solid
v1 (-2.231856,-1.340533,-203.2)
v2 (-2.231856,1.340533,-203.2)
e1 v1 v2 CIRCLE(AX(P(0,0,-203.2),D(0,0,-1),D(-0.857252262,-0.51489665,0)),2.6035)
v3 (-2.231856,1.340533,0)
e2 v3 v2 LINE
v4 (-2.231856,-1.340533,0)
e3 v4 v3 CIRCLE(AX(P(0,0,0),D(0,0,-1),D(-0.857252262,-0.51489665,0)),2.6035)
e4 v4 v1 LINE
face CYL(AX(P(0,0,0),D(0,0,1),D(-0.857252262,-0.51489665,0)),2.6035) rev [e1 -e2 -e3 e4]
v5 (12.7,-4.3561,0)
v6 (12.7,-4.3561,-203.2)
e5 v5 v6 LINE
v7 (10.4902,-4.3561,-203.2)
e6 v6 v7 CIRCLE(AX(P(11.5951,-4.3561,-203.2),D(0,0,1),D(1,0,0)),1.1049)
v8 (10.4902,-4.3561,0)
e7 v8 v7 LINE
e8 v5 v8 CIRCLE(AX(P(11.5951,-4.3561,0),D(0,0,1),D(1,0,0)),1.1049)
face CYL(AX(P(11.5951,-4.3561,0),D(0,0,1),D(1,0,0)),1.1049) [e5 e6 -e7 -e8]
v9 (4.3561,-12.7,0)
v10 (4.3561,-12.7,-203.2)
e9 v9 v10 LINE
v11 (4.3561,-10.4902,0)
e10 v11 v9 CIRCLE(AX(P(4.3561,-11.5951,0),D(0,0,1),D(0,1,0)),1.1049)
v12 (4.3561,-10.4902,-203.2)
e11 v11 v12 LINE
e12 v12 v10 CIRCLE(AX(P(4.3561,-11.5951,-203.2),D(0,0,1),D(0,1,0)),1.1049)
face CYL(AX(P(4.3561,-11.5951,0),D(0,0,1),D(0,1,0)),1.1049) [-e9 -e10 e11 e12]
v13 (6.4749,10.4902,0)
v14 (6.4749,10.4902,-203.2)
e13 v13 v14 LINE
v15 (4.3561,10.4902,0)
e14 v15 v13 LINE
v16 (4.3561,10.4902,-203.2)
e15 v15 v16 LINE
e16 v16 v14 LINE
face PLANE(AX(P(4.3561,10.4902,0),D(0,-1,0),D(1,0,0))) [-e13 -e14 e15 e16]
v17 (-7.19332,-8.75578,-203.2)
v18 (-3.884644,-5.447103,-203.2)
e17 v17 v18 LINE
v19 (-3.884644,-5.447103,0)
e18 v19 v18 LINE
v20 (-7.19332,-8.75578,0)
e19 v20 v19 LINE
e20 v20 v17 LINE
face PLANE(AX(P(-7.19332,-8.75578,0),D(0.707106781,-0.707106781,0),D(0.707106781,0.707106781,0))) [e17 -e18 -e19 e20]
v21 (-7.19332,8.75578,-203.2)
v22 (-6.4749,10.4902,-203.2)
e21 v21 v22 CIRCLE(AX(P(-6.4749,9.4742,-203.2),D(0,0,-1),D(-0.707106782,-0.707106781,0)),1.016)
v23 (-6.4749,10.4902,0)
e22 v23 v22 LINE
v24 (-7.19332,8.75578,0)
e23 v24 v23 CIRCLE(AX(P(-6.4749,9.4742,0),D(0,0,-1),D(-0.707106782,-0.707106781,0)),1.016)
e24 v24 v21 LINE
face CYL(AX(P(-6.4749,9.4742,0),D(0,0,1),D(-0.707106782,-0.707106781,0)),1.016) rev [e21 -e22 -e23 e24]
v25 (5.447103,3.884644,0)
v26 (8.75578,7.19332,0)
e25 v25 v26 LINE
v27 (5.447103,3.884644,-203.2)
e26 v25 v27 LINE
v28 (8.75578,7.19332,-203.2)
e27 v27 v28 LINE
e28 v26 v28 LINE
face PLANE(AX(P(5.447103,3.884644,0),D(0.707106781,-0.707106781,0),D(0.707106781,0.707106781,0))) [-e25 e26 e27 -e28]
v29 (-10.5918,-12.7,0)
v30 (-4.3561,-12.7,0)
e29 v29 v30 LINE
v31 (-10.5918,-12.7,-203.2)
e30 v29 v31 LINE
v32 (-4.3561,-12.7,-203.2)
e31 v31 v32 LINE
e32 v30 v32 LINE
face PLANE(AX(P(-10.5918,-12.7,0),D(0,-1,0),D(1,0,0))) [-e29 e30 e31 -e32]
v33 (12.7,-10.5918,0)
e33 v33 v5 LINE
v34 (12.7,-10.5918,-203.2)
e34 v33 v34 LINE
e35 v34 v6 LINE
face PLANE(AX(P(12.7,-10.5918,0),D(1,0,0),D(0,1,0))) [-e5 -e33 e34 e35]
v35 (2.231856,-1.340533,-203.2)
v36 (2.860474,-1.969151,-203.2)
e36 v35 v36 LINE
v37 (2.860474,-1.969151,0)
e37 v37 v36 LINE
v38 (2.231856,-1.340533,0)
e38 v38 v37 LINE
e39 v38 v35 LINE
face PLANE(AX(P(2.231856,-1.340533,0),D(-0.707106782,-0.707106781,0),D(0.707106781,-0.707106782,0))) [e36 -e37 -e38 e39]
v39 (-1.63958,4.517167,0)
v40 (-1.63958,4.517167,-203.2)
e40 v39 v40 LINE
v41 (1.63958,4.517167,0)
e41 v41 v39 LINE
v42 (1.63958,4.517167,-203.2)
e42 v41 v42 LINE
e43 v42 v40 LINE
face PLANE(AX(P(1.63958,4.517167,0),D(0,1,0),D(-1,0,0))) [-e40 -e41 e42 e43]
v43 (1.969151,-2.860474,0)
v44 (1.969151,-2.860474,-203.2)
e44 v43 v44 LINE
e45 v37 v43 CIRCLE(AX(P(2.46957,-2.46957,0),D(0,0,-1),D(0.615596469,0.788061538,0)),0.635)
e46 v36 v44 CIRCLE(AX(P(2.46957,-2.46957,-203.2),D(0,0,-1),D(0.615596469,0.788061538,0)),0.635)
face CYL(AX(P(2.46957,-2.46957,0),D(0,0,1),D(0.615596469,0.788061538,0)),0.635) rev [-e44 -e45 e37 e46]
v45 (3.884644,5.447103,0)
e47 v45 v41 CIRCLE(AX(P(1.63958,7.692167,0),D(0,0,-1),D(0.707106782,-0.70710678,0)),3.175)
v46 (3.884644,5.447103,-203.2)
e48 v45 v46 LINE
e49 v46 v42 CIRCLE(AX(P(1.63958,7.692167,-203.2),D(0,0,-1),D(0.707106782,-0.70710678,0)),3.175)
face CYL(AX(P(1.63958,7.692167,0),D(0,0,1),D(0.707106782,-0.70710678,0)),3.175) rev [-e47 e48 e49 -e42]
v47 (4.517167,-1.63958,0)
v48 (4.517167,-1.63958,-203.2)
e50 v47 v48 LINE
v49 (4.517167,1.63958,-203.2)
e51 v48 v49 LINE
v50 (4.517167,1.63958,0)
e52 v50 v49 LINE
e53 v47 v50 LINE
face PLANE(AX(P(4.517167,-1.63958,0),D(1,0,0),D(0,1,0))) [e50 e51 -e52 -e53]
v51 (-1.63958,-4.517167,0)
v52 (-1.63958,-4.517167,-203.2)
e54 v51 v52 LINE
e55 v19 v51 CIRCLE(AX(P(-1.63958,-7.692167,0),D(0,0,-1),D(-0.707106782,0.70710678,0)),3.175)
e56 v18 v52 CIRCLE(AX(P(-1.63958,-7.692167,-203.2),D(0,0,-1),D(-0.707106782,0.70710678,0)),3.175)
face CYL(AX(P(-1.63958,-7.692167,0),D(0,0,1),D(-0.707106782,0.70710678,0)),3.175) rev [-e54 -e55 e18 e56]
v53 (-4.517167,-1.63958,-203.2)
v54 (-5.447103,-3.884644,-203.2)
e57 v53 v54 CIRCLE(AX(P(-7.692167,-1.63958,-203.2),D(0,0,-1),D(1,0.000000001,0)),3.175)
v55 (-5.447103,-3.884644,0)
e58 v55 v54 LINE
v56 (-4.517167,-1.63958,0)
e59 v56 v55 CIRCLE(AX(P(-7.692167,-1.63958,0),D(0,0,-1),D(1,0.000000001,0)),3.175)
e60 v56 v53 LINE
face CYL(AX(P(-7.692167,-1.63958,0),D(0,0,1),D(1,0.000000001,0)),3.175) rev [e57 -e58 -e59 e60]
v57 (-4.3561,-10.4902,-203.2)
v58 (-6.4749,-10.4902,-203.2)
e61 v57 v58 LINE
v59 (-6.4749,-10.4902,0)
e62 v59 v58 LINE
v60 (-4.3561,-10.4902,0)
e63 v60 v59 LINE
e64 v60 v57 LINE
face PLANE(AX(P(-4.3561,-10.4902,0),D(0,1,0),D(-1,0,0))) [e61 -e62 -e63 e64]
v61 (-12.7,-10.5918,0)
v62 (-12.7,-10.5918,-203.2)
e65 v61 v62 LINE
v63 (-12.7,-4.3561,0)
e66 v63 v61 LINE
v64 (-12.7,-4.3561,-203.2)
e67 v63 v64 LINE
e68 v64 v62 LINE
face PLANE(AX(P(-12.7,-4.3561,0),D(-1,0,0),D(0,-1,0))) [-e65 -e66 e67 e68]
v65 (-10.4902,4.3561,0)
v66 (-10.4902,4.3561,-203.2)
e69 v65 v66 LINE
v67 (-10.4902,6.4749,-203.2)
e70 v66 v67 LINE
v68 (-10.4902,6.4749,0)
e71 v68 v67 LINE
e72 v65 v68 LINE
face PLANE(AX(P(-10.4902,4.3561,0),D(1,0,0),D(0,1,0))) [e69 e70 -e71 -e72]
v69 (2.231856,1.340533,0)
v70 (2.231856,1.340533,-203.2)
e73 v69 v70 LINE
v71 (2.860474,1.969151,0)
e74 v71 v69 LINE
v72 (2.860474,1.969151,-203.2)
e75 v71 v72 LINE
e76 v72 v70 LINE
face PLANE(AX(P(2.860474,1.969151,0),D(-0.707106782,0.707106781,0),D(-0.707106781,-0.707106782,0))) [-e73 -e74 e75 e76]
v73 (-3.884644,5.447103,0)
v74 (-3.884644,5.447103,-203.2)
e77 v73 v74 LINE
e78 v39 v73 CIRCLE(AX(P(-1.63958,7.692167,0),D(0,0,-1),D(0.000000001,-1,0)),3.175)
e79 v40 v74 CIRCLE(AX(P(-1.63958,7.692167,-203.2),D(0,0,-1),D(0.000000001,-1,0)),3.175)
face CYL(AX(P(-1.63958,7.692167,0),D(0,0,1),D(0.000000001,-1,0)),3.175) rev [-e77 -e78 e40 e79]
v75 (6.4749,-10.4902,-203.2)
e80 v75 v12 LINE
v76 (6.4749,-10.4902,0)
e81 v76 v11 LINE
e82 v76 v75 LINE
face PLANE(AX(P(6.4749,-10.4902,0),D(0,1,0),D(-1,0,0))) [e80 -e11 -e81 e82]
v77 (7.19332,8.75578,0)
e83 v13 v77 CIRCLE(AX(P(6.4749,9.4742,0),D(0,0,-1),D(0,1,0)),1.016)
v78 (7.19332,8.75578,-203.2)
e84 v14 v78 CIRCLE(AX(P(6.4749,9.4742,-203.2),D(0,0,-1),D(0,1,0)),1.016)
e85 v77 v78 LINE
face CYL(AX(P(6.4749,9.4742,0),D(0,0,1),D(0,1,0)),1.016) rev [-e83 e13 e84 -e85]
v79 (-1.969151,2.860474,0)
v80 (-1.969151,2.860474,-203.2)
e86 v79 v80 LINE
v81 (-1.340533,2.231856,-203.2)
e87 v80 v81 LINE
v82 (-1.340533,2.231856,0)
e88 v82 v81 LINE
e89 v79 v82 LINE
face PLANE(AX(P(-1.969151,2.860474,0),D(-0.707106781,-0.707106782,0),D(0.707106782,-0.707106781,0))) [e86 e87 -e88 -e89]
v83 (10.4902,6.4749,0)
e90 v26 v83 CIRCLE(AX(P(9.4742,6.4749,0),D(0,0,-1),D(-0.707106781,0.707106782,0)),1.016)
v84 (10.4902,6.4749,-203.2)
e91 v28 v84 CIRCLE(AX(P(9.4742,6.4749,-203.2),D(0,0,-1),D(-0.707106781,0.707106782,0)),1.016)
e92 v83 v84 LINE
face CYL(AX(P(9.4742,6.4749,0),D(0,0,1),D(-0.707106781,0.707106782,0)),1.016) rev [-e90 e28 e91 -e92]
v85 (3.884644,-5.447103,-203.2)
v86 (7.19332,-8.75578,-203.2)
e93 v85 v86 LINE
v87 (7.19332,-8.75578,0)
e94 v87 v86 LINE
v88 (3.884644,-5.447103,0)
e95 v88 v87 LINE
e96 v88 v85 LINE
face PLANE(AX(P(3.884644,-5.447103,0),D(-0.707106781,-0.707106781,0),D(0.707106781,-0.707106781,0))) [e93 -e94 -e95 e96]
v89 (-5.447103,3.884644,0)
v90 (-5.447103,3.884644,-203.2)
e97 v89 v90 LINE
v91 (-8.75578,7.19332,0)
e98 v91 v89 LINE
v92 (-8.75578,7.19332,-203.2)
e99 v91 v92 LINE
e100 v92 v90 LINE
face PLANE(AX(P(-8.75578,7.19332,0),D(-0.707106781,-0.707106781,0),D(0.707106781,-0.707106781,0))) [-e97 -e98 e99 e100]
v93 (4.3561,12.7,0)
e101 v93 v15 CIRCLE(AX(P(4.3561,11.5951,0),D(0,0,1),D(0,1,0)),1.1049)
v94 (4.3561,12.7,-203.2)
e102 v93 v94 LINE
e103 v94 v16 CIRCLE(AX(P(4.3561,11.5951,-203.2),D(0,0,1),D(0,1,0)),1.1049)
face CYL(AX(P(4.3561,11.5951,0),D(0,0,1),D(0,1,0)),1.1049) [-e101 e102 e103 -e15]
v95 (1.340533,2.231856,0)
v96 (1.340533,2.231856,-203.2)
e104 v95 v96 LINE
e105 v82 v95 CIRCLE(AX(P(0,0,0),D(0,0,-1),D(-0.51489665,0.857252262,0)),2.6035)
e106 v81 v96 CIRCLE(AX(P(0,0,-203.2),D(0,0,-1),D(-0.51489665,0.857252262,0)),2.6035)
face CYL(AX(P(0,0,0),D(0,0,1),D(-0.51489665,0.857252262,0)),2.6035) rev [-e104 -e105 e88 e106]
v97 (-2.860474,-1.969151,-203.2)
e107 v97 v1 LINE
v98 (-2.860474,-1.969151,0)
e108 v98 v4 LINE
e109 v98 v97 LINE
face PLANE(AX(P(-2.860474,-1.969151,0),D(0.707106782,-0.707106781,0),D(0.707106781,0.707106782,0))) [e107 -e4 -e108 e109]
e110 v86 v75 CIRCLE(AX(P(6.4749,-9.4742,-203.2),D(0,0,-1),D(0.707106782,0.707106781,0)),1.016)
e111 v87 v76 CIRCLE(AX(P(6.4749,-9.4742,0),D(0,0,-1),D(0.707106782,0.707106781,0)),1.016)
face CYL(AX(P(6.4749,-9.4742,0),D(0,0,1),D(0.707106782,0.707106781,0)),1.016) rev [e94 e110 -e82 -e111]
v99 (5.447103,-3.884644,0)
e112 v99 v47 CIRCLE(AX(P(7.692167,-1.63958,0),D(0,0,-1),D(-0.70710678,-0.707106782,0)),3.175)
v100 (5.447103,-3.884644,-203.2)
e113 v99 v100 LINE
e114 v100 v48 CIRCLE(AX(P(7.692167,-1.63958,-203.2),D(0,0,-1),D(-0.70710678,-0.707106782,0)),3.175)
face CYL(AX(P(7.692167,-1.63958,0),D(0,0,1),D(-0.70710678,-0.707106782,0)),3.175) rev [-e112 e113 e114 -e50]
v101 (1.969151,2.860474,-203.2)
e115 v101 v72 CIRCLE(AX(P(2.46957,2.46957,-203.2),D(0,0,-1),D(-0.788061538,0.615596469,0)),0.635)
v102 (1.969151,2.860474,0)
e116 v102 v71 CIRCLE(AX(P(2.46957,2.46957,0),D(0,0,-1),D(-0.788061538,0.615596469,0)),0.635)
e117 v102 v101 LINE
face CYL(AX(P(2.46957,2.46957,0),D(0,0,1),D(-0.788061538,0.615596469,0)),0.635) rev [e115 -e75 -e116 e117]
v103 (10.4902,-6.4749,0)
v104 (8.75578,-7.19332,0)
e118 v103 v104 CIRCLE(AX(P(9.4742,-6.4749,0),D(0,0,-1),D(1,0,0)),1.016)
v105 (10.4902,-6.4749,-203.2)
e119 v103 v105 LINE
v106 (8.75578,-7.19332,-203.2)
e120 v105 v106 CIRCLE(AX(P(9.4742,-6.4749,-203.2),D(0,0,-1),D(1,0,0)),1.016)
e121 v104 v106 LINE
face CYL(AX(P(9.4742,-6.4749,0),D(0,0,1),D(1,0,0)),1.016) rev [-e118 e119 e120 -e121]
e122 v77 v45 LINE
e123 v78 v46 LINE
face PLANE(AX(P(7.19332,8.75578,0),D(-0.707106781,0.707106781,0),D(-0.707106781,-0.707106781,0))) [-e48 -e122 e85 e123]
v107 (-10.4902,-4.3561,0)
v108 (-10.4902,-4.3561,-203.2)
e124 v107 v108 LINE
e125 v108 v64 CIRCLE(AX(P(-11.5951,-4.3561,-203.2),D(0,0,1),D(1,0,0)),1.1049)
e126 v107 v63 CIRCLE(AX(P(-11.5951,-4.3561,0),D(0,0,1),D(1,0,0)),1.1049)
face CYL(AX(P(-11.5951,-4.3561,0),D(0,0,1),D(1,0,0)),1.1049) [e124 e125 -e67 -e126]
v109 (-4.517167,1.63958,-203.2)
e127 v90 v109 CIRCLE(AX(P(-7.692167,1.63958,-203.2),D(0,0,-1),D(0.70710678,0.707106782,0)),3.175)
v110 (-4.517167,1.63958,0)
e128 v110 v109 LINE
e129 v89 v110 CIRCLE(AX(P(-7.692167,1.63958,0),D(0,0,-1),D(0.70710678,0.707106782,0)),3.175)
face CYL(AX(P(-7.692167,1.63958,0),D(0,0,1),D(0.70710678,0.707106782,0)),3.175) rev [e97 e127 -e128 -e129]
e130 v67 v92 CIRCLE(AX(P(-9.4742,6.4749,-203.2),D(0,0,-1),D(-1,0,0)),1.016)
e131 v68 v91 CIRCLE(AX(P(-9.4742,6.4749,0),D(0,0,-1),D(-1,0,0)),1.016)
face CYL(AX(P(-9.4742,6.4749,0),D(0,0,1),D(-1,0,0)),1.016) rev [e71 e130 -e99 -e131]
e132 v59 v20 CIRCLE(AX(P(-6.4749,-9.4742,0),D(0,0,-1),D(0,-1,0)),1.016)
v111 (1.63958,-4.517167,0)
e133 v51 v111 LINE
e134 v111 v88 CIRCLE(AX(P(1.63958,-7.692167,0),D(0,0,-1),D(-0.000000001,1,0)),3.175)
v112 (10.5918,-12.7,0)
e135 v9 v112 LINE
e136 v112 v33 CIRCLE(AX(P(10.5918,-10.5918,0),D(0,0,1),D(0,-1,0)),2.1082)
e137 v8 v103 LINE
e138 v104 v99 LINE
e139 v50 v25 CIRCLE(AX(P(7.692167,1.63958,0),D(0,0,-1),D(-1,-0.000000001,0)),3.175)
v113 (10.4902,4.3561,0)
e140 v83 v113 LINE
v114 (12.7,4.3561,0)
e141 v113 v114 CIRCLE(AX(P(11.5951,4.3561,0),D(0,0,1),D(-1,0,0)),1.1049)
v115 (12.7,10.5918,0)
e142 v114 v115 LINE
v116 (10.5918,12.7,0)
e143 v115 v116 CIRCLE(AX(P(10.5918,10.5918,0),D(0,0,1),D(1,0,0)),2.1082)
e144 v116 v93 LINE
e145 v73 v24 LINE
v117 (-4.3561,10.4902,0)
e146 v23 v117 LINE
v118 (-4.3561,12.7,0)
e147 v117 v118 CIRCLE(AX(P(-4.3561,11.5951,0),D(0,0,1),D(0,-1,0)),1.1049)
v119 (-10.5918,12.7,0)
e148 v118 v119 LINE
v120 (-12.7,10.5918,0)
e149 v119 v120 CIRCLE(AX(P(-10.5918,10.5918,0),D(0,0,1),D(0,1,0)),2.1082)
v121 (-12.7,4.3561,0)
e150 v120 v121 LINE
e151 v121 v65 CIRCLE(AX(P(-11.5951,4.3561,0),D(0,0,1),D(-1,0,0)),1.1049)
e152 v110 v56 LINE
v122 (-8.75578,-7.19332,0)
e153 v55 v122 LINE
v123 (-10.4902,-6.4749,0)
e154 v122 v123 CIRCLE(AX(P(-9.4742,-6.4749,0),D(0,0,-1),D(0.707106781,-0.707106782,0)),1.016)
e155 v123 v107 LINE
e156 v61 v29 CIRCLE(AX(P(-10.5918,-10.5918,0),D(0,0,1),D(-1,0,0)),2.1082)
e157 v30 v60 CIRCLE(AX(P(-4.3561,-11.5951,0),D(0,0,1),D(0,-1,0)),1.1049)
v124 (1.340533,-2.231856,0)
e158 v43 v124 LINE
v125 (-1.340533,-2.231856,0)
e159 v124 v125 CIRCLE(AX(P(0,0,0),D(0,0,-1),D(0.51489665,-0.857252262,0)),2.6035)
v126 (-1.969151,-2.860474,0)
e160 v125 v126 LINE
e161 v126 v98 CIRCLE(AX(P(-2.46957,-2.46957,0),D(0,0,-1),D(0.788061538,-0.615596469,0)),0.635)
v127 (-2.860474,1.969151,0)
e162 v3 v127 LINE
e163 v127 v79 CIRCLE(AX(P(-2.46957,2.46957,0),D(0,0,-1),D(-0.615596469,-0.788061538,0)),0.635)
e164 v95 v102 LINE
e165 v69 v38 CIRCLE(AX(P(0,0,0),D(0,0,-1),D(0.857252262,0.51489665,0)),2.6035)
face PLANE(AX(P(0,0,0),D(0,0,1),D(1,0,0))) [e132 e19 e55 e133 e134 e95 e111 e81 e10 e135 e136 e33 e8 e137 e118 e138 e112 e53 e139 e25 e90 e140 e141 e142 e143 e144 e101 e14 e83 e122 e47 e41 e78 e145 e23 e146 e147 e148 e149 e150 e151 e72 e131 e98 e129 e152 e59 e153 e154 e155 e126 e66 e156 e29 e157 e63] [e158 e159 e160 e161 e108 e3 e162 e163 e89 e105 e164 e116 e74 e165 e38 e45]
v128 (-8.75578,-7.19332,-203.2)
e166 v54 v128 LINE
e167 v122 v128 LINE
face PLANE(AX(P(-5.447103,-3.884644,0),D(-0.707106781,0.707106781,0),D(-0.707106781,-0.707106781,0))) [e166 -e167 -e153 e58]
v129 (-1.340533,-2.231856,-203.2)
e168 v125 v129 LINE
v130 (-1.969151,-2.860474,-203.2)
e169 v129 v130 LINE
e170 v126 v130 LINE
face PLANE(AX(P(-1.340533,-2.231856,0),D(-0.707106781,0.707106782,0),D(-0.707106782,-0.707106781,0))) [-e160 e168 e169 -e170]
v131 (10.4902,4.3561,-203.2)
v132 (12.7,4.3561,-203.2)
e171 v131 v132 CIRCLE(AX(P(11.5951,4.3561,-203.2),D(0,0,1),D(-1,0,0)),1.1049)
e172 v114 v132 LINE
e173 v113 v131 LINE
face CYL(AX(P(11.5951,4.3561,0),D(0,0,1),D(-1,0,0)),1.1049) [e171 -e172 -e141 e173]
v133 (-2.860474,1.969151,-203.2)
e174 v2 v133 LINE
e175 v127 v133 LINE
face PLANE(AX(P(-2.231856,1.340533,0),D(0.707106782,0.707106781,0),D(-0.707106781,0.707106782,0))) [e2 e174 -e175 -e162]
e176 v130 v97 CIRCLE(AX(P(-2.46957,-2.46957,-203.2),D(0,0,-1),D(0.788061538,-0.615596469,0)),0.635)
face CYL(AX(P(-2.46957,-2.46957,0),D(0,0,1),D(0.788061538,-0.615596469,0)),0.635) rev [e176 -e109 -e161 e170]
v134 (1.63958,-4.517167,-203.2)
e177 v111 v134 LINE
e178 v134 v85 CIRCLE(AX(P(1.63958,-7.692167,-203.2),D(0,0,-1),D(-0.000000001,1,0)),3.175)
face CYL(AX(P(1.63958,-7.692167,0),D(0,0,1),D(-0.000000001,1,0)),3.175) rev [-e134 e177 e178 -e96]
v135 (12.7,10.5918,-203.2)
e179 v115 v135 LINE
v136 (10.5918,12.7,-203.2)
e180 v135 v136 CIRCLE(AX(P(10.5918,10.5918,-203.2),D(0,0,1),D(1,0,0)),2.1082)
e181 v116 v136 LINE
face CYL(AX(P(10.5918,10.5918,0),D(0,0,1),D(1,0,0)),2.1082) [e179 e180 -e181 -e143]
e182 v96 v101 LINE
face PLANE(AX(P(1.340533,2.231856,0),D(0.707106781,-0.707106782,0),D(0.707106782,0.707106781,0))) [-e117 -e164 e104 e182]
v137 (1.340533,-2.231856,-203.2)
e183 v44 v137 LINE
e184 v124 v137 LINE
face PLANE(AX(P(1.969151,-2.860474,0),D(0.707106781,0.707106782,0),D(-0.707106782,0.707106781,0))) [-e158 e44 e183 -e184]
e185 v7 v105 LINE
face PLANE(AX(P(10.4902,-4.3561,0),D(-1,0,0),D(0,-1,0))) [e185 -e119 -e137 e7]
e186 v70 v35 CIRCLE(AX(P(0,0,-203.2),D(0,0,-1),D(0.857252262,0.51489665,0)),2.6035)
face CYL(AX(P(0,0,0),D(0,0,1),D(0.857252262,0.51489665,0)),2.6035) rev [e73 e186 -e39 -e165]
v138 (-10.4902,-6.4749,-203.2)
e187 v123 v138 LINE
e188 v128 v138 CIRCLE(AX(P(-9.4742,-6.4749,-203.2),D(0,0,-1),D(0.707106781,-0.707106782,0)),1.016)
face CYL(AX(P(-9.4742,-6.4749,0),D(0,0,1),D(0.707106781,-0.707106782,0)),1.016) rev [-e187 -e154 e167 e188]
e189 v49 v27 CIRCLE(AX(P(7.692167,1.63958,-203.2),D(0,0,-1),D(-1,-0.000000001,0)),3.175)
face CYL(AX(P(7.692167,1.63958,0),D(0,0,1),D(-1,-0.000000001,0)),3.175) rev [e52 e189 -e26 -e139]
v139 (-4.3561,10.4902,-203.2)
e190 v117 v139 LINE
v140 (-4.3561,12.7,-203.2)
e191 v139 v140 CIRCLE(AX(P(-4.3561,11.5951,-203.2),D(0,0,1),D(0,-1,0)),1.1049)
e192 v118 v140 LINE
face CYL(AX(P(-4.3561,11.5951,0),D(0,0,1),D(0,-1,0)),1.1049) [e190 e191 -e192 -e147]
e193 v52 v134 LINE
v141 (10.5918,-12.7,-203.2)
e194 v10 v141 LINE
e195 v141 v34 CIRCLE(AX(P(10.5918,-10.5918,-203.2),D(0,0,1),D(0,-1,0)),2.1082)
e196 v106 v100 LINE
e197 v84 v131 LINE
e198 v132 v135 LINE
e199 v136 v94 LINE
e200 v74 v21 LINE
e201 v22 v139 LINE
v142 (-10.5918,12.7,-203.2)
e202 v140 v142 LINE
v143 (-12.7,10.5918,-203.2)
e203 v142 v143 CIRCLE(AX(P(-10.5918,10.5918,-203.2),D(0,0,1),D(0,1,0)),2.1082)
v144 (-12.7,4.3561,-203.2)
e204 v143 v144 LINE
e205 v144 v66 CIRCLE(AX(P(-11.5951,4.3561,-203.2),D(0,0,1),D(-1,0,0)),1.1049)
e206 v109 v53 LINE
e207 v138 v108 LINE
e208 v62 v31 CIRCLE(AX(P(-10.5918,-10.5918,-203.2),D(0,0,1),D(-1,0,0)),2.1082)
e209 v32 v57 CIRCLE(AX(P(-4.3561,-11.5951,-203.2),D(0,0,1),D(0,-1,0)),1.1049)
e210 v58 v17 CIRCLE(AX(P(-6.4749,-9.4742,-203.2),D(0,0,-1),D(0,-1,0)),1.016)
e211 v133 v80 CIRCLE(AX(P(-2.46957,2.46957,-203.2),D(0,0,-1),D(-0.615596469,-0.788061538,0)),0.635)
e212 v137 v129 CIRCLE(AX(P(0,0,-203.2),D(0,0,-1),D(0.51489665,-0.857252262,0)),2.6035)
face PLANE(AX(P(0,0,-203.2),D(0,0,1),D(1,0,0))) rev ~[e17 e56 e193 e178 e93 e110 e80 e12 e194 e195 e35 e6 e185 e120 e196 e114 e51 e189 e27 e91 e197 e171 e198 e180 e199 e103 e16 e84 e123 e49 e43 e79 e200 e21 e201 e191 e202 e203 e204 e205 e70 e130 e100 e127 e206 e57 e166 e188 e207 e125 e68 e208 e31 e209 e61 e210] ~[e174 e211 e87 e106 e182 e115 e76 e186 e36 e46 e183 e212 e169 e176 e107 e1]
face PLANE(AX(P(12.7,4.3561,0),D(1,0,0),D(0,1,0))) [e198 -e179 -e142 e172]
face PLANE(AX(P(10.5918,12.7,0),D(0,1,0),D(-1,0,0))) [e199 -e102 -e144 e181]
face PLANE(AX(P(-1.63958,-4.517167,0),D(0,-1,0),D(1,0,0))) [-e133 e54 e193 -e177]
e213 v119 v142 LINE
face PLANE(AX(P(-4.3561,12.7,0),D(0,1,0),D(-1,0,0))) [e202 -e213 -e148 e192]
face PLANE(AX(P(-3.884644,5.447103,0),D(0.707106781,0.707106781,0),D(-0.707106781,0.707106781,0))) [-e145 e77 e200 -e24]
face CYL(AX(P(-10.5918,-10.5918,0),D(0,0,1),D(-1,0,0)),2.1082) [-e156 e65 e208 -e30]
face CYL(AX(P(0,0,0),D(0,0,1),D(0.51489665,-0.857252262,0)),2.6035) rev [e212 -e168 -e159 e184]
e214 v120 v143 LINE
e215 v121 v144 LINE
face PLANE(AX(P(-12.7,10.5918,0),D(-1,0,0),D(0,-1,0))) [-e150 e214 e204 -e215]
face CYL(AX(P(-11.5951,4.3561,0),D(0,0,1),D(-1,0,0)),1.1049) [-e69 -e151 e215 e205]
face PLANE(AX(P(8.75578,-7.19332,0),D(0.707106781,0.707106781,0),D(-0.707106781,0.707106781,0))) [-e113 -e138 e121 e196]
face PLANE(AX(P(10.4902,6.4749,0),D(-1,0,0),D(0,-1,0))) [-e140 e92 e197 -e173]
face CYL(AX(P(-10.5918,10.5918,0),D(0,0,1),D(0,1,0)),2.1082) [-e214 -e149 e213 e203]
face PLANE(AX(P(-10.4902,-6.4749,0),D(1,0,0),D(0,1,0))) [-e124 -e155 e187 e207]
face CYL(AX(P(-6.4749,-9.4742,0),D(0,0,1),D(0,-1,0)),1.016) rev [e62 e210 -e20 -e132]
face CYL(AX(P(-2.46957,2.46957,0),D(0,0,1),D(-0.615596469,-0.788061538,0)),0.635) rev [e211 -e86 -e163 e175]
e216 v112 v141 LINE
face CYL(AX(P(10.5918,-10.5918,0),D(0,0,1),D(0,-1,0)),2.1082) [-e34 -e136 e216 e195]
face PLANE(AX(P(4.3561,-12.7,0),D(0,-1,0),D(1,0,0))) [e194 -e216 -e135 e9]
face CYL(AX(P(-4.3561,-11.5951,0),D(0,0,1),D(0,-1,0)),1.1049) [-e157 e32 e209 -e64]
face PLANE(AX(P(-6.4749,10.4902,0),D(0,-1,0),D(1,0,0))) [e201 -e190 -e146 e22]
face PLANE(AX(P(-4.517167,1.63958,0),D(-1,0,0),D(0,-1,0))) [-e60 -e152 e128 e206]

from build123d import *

# Parameters (mm, degrees)
EXTRUDE1_DEPTH = 203.2


with BuildPart() as part:
    # Sketch1 → Extrude1 (new body)
    with BuildSketch(Plane.XY):
        with BuildLine():
            Line((-3.88464389, 5.447103113), (-7.193320288, 8.75577951))
            ThreePointArc((-7.193320288, 8.75577951), (-7.413561403, 9.863006367), (-6.474899798, 10.4902))
            Line((-6.474899798, 10.4902), (-4.3561, 10.4902))
            ThreePointArc((-4.3561, 10.4902), (-3.2512, 11.5951), (-4.3561, 12.7))
            Line((-4.3561, 12.7), (-10.5918, 12.7))
            ThreePointArc((-10.5918, 12.7), (-12.082522516, 12.082522516), (-12.7, 10.5918))
            Line((-12.7, 10.5918), (-12.7, 4.3561))
            ThreePointArc((-12.7, 4.3561), (-11.5951, 3.2512), (-10.4902, 4.3561))
            Line((-10.4902, 4.3561), (-10.4902, 6.474899798))
            ThreePointArc((-10.4902, 6.474899798), (-9.863006367, 7.413561403), (-8.75577951, 7.193320288))
            Line((-8.75577951, 7.193320288), (-5.447103113, 3.88464389))
            ThreePointArc((-5.447103113, 3.88464389), (-4.758849627, 2.854599758), (-4.517167143, 1.63957986))
            Line((-4.517167143, 1.63957986), (-4.517167143, -1.63957986))
            ThreePointArc((-4.517167143, -1.63957986), (-4.758849627, -2.854599758), (-5.447103113, -3.88464389))
            Line((-5.447103113, -3.88464389), (-8.75577951, -7.193320288))
            ThreePointArc((-8.75577951, -7.193320288), (-9.863006367, -7.413561403), (-10.4902, -6.474899798))
            Line((-10.4902, -6.474899798), (-10.4902, -4.3561))
            ThreePointArc((-10.4902, -4.3561), (-11.5951, -3.2512), (-12.7, -4.3561))
            Line((-12.7, -4.3561), (-12.7, -10.5918))
            ThreePointArc((-12.7, -10.5918), (-12.082522516, -12.082522516), (-10.5918, -12.7))
            Line((-10.5918, -12.7), (-4.3561, -12.7))
            ThreePointArc((-4.3561, -12.7), (-3.2512, -11.5951), (-4.3561, -10.4902))
            Line((-4.3561, -10.4902), (-6.474899798, -10.4902))
            ThreePointArc((-6.474899798, -10.4902), (-7.413561403, -9.863006367), (-7.193320288, -8.75577951))
            Line((-7.193320288, -8.75577951), (-3.88464389, -5.447103113))
            ThreePointArc((-3.88464389, -5.447103113), (-2.854599758, -4.758849627), (-1.63957986, -4.517167143))
            Line((-1.63957986, -4.517167143), (1.63957986, -4.517167143))
            ThreePointArc((1.63957986, -4.517167143), (2.854599758, -4.758849627), (3.88464389, -5.447103113))
            Line((3.88464389, -5.447103113), (7.193320288, -8.75577951))
            ThreePointArc((7.193320288, -8.75577951), (7.413561403, -9.863006367), (6.474899798, -10.4902))
            Line((6.474899798, -10.4902), (4.3561, -10.4902))
            ThreePointArc((4.3561, -10.4902), (3.2512, -11.5951), (4.3561, -12.7))
            Line((4.3561, -12.7), (10.5918, -12.7))
            ThreePointArc((10.5918, -12.7), (12.082522516, -12.082522516), (12.7, -10.5918))
            Line((12.7, -10.5918), (12.7, -4.3561))
            ThreePointArc((12.7, -4.3561), (11.5951, -3.2512), (10.4902, -4.3561))
            Line((10.4902, -4.3561), (10.4902, -6.474899798))
            ThreePointArc((10.4902, -6.474899798), (9.863006367, -7.413561403), (8.75577951, -7.193320288))
            Line((8.75577951, -7.193320288), (5.447103113, -3.88464389))
            ThreePointArc((5.447103113, -3.88464389), (4.758849627, -2.854599758), (4.517167143, -1.63957986))
            Line((4.517167143, -1.63957986), (4.517167143, 1.63957986))
            ThreePointArc((4.517167143, 1.63957986), (4.758849627, 2.854599758), (5.447103113, 3.88464389))
            Line((5.447103113, 3.88464389), (8.75577951, 7.193320288))
            ThreePointArc((8.75577951, 7.193320288), (9.863006367, 7.413561403), (10.4902, 6.474899798))
            Line((10.4902, 6.474899798), (10.4902, 4.3561))
            ThreePointArc((10.4902, 4.3561), (11.5951, 3.2512), (12.7, 4.3561))
            Line((12.7, 4.3561), (12.7, 10.5918))
            ThreePointArc((12.7, 10.5918), (12.082522516, 12.082522516), (10.5918, 12.7))
            Line((10.5918, 12.7), (4.3561, 12.7))
            ThreePointArc((4.3561, 12.7), (3.2512, 11.5951), (4.3561, 10.4902))
            Line((4.3561, 10.4902), (6.474899798, 10.4902))
            ThreePointArc((6.474899798, 10.4902), (7.413561403, 9.863006367), (7.193320288, 8.75577951))
            Line((7.193320288, 8.75577951), (3.88464389, 5.447103113))
            ThreePointArc((3.88464389, 5.447103113), (2.854599758, 4.758849627), (1.63957986, 4.517167143))
            Line((1.63957986, 4.517167143), (-1.63957986, 4.517167143))
            ThreePointArc((-1.63957986, 4.517167143), (-2.854599758, 4.758849627), (-3.88464389, 5.447103113))
        make_face()
        with BuildLine():
            Line((-2.860474191, -1.969151357), (-2.231856263, -1.340533428))
            ThreePointArc((-2.231856263, -1.340533428), (-2.6035, 0), (-2.231856263, 1.340533428))
            Line((-2.231856263, 1.340533428), (-2.860474191, 1.969151357))
            ThreePointArc((-2.860474191, 1.969151357), (-2.918583239, 2.918583239), (-1.969151357, 2.860474191))
            Line((-1.969151357, 2.860474191), (-1.340533428, 2.231856263))
            ThreePointArc((-1.340533428, 2.231856263), (0, 2.6035), (1.340533428, 2.231856263))
            Line((1.340533428, 2.231856263), (1.969151357, 2.860474191))
            ThreePointArc((1.969151357, 2.860474191), (2.918583239, 2.918583239), (2.860474191, 1.969151357))
            Line((2.860474191, 1.969151357), (2.231856263, 1.340533428))
            ThreePointArc((2.231856263, 1.340533428), (2.6035, 0), (2.231856263, -1.340533428))
            Line((2.231856263, -1.340533428), (2.860474191, -1.969151357))
            ThreePointArc((2.860474191, -1.969151357), (2.918583239, -2.918583239), (1.969151357, -2.860474191))
            Line((1.969151357, -2.860474191), (1.340533428, -2.231856263))
            ThreePointArc((1.340533428, -2.231856263), (0, -2.6035), (-1.340533428, -2.231856263))
            Line((-1.340533428, -2.231856263), (-1.969151357, -2.860474191))
            ThreePointArc((-1.969151357, -2.860474191), (-2.918583239, -2.918583239), (-2.860474191, -1.969151357))
        make_face(mode=Mode.SUBTRACT)
    extrude(amount=-EXTRUDE1_DEPTH)


solid = part.part
